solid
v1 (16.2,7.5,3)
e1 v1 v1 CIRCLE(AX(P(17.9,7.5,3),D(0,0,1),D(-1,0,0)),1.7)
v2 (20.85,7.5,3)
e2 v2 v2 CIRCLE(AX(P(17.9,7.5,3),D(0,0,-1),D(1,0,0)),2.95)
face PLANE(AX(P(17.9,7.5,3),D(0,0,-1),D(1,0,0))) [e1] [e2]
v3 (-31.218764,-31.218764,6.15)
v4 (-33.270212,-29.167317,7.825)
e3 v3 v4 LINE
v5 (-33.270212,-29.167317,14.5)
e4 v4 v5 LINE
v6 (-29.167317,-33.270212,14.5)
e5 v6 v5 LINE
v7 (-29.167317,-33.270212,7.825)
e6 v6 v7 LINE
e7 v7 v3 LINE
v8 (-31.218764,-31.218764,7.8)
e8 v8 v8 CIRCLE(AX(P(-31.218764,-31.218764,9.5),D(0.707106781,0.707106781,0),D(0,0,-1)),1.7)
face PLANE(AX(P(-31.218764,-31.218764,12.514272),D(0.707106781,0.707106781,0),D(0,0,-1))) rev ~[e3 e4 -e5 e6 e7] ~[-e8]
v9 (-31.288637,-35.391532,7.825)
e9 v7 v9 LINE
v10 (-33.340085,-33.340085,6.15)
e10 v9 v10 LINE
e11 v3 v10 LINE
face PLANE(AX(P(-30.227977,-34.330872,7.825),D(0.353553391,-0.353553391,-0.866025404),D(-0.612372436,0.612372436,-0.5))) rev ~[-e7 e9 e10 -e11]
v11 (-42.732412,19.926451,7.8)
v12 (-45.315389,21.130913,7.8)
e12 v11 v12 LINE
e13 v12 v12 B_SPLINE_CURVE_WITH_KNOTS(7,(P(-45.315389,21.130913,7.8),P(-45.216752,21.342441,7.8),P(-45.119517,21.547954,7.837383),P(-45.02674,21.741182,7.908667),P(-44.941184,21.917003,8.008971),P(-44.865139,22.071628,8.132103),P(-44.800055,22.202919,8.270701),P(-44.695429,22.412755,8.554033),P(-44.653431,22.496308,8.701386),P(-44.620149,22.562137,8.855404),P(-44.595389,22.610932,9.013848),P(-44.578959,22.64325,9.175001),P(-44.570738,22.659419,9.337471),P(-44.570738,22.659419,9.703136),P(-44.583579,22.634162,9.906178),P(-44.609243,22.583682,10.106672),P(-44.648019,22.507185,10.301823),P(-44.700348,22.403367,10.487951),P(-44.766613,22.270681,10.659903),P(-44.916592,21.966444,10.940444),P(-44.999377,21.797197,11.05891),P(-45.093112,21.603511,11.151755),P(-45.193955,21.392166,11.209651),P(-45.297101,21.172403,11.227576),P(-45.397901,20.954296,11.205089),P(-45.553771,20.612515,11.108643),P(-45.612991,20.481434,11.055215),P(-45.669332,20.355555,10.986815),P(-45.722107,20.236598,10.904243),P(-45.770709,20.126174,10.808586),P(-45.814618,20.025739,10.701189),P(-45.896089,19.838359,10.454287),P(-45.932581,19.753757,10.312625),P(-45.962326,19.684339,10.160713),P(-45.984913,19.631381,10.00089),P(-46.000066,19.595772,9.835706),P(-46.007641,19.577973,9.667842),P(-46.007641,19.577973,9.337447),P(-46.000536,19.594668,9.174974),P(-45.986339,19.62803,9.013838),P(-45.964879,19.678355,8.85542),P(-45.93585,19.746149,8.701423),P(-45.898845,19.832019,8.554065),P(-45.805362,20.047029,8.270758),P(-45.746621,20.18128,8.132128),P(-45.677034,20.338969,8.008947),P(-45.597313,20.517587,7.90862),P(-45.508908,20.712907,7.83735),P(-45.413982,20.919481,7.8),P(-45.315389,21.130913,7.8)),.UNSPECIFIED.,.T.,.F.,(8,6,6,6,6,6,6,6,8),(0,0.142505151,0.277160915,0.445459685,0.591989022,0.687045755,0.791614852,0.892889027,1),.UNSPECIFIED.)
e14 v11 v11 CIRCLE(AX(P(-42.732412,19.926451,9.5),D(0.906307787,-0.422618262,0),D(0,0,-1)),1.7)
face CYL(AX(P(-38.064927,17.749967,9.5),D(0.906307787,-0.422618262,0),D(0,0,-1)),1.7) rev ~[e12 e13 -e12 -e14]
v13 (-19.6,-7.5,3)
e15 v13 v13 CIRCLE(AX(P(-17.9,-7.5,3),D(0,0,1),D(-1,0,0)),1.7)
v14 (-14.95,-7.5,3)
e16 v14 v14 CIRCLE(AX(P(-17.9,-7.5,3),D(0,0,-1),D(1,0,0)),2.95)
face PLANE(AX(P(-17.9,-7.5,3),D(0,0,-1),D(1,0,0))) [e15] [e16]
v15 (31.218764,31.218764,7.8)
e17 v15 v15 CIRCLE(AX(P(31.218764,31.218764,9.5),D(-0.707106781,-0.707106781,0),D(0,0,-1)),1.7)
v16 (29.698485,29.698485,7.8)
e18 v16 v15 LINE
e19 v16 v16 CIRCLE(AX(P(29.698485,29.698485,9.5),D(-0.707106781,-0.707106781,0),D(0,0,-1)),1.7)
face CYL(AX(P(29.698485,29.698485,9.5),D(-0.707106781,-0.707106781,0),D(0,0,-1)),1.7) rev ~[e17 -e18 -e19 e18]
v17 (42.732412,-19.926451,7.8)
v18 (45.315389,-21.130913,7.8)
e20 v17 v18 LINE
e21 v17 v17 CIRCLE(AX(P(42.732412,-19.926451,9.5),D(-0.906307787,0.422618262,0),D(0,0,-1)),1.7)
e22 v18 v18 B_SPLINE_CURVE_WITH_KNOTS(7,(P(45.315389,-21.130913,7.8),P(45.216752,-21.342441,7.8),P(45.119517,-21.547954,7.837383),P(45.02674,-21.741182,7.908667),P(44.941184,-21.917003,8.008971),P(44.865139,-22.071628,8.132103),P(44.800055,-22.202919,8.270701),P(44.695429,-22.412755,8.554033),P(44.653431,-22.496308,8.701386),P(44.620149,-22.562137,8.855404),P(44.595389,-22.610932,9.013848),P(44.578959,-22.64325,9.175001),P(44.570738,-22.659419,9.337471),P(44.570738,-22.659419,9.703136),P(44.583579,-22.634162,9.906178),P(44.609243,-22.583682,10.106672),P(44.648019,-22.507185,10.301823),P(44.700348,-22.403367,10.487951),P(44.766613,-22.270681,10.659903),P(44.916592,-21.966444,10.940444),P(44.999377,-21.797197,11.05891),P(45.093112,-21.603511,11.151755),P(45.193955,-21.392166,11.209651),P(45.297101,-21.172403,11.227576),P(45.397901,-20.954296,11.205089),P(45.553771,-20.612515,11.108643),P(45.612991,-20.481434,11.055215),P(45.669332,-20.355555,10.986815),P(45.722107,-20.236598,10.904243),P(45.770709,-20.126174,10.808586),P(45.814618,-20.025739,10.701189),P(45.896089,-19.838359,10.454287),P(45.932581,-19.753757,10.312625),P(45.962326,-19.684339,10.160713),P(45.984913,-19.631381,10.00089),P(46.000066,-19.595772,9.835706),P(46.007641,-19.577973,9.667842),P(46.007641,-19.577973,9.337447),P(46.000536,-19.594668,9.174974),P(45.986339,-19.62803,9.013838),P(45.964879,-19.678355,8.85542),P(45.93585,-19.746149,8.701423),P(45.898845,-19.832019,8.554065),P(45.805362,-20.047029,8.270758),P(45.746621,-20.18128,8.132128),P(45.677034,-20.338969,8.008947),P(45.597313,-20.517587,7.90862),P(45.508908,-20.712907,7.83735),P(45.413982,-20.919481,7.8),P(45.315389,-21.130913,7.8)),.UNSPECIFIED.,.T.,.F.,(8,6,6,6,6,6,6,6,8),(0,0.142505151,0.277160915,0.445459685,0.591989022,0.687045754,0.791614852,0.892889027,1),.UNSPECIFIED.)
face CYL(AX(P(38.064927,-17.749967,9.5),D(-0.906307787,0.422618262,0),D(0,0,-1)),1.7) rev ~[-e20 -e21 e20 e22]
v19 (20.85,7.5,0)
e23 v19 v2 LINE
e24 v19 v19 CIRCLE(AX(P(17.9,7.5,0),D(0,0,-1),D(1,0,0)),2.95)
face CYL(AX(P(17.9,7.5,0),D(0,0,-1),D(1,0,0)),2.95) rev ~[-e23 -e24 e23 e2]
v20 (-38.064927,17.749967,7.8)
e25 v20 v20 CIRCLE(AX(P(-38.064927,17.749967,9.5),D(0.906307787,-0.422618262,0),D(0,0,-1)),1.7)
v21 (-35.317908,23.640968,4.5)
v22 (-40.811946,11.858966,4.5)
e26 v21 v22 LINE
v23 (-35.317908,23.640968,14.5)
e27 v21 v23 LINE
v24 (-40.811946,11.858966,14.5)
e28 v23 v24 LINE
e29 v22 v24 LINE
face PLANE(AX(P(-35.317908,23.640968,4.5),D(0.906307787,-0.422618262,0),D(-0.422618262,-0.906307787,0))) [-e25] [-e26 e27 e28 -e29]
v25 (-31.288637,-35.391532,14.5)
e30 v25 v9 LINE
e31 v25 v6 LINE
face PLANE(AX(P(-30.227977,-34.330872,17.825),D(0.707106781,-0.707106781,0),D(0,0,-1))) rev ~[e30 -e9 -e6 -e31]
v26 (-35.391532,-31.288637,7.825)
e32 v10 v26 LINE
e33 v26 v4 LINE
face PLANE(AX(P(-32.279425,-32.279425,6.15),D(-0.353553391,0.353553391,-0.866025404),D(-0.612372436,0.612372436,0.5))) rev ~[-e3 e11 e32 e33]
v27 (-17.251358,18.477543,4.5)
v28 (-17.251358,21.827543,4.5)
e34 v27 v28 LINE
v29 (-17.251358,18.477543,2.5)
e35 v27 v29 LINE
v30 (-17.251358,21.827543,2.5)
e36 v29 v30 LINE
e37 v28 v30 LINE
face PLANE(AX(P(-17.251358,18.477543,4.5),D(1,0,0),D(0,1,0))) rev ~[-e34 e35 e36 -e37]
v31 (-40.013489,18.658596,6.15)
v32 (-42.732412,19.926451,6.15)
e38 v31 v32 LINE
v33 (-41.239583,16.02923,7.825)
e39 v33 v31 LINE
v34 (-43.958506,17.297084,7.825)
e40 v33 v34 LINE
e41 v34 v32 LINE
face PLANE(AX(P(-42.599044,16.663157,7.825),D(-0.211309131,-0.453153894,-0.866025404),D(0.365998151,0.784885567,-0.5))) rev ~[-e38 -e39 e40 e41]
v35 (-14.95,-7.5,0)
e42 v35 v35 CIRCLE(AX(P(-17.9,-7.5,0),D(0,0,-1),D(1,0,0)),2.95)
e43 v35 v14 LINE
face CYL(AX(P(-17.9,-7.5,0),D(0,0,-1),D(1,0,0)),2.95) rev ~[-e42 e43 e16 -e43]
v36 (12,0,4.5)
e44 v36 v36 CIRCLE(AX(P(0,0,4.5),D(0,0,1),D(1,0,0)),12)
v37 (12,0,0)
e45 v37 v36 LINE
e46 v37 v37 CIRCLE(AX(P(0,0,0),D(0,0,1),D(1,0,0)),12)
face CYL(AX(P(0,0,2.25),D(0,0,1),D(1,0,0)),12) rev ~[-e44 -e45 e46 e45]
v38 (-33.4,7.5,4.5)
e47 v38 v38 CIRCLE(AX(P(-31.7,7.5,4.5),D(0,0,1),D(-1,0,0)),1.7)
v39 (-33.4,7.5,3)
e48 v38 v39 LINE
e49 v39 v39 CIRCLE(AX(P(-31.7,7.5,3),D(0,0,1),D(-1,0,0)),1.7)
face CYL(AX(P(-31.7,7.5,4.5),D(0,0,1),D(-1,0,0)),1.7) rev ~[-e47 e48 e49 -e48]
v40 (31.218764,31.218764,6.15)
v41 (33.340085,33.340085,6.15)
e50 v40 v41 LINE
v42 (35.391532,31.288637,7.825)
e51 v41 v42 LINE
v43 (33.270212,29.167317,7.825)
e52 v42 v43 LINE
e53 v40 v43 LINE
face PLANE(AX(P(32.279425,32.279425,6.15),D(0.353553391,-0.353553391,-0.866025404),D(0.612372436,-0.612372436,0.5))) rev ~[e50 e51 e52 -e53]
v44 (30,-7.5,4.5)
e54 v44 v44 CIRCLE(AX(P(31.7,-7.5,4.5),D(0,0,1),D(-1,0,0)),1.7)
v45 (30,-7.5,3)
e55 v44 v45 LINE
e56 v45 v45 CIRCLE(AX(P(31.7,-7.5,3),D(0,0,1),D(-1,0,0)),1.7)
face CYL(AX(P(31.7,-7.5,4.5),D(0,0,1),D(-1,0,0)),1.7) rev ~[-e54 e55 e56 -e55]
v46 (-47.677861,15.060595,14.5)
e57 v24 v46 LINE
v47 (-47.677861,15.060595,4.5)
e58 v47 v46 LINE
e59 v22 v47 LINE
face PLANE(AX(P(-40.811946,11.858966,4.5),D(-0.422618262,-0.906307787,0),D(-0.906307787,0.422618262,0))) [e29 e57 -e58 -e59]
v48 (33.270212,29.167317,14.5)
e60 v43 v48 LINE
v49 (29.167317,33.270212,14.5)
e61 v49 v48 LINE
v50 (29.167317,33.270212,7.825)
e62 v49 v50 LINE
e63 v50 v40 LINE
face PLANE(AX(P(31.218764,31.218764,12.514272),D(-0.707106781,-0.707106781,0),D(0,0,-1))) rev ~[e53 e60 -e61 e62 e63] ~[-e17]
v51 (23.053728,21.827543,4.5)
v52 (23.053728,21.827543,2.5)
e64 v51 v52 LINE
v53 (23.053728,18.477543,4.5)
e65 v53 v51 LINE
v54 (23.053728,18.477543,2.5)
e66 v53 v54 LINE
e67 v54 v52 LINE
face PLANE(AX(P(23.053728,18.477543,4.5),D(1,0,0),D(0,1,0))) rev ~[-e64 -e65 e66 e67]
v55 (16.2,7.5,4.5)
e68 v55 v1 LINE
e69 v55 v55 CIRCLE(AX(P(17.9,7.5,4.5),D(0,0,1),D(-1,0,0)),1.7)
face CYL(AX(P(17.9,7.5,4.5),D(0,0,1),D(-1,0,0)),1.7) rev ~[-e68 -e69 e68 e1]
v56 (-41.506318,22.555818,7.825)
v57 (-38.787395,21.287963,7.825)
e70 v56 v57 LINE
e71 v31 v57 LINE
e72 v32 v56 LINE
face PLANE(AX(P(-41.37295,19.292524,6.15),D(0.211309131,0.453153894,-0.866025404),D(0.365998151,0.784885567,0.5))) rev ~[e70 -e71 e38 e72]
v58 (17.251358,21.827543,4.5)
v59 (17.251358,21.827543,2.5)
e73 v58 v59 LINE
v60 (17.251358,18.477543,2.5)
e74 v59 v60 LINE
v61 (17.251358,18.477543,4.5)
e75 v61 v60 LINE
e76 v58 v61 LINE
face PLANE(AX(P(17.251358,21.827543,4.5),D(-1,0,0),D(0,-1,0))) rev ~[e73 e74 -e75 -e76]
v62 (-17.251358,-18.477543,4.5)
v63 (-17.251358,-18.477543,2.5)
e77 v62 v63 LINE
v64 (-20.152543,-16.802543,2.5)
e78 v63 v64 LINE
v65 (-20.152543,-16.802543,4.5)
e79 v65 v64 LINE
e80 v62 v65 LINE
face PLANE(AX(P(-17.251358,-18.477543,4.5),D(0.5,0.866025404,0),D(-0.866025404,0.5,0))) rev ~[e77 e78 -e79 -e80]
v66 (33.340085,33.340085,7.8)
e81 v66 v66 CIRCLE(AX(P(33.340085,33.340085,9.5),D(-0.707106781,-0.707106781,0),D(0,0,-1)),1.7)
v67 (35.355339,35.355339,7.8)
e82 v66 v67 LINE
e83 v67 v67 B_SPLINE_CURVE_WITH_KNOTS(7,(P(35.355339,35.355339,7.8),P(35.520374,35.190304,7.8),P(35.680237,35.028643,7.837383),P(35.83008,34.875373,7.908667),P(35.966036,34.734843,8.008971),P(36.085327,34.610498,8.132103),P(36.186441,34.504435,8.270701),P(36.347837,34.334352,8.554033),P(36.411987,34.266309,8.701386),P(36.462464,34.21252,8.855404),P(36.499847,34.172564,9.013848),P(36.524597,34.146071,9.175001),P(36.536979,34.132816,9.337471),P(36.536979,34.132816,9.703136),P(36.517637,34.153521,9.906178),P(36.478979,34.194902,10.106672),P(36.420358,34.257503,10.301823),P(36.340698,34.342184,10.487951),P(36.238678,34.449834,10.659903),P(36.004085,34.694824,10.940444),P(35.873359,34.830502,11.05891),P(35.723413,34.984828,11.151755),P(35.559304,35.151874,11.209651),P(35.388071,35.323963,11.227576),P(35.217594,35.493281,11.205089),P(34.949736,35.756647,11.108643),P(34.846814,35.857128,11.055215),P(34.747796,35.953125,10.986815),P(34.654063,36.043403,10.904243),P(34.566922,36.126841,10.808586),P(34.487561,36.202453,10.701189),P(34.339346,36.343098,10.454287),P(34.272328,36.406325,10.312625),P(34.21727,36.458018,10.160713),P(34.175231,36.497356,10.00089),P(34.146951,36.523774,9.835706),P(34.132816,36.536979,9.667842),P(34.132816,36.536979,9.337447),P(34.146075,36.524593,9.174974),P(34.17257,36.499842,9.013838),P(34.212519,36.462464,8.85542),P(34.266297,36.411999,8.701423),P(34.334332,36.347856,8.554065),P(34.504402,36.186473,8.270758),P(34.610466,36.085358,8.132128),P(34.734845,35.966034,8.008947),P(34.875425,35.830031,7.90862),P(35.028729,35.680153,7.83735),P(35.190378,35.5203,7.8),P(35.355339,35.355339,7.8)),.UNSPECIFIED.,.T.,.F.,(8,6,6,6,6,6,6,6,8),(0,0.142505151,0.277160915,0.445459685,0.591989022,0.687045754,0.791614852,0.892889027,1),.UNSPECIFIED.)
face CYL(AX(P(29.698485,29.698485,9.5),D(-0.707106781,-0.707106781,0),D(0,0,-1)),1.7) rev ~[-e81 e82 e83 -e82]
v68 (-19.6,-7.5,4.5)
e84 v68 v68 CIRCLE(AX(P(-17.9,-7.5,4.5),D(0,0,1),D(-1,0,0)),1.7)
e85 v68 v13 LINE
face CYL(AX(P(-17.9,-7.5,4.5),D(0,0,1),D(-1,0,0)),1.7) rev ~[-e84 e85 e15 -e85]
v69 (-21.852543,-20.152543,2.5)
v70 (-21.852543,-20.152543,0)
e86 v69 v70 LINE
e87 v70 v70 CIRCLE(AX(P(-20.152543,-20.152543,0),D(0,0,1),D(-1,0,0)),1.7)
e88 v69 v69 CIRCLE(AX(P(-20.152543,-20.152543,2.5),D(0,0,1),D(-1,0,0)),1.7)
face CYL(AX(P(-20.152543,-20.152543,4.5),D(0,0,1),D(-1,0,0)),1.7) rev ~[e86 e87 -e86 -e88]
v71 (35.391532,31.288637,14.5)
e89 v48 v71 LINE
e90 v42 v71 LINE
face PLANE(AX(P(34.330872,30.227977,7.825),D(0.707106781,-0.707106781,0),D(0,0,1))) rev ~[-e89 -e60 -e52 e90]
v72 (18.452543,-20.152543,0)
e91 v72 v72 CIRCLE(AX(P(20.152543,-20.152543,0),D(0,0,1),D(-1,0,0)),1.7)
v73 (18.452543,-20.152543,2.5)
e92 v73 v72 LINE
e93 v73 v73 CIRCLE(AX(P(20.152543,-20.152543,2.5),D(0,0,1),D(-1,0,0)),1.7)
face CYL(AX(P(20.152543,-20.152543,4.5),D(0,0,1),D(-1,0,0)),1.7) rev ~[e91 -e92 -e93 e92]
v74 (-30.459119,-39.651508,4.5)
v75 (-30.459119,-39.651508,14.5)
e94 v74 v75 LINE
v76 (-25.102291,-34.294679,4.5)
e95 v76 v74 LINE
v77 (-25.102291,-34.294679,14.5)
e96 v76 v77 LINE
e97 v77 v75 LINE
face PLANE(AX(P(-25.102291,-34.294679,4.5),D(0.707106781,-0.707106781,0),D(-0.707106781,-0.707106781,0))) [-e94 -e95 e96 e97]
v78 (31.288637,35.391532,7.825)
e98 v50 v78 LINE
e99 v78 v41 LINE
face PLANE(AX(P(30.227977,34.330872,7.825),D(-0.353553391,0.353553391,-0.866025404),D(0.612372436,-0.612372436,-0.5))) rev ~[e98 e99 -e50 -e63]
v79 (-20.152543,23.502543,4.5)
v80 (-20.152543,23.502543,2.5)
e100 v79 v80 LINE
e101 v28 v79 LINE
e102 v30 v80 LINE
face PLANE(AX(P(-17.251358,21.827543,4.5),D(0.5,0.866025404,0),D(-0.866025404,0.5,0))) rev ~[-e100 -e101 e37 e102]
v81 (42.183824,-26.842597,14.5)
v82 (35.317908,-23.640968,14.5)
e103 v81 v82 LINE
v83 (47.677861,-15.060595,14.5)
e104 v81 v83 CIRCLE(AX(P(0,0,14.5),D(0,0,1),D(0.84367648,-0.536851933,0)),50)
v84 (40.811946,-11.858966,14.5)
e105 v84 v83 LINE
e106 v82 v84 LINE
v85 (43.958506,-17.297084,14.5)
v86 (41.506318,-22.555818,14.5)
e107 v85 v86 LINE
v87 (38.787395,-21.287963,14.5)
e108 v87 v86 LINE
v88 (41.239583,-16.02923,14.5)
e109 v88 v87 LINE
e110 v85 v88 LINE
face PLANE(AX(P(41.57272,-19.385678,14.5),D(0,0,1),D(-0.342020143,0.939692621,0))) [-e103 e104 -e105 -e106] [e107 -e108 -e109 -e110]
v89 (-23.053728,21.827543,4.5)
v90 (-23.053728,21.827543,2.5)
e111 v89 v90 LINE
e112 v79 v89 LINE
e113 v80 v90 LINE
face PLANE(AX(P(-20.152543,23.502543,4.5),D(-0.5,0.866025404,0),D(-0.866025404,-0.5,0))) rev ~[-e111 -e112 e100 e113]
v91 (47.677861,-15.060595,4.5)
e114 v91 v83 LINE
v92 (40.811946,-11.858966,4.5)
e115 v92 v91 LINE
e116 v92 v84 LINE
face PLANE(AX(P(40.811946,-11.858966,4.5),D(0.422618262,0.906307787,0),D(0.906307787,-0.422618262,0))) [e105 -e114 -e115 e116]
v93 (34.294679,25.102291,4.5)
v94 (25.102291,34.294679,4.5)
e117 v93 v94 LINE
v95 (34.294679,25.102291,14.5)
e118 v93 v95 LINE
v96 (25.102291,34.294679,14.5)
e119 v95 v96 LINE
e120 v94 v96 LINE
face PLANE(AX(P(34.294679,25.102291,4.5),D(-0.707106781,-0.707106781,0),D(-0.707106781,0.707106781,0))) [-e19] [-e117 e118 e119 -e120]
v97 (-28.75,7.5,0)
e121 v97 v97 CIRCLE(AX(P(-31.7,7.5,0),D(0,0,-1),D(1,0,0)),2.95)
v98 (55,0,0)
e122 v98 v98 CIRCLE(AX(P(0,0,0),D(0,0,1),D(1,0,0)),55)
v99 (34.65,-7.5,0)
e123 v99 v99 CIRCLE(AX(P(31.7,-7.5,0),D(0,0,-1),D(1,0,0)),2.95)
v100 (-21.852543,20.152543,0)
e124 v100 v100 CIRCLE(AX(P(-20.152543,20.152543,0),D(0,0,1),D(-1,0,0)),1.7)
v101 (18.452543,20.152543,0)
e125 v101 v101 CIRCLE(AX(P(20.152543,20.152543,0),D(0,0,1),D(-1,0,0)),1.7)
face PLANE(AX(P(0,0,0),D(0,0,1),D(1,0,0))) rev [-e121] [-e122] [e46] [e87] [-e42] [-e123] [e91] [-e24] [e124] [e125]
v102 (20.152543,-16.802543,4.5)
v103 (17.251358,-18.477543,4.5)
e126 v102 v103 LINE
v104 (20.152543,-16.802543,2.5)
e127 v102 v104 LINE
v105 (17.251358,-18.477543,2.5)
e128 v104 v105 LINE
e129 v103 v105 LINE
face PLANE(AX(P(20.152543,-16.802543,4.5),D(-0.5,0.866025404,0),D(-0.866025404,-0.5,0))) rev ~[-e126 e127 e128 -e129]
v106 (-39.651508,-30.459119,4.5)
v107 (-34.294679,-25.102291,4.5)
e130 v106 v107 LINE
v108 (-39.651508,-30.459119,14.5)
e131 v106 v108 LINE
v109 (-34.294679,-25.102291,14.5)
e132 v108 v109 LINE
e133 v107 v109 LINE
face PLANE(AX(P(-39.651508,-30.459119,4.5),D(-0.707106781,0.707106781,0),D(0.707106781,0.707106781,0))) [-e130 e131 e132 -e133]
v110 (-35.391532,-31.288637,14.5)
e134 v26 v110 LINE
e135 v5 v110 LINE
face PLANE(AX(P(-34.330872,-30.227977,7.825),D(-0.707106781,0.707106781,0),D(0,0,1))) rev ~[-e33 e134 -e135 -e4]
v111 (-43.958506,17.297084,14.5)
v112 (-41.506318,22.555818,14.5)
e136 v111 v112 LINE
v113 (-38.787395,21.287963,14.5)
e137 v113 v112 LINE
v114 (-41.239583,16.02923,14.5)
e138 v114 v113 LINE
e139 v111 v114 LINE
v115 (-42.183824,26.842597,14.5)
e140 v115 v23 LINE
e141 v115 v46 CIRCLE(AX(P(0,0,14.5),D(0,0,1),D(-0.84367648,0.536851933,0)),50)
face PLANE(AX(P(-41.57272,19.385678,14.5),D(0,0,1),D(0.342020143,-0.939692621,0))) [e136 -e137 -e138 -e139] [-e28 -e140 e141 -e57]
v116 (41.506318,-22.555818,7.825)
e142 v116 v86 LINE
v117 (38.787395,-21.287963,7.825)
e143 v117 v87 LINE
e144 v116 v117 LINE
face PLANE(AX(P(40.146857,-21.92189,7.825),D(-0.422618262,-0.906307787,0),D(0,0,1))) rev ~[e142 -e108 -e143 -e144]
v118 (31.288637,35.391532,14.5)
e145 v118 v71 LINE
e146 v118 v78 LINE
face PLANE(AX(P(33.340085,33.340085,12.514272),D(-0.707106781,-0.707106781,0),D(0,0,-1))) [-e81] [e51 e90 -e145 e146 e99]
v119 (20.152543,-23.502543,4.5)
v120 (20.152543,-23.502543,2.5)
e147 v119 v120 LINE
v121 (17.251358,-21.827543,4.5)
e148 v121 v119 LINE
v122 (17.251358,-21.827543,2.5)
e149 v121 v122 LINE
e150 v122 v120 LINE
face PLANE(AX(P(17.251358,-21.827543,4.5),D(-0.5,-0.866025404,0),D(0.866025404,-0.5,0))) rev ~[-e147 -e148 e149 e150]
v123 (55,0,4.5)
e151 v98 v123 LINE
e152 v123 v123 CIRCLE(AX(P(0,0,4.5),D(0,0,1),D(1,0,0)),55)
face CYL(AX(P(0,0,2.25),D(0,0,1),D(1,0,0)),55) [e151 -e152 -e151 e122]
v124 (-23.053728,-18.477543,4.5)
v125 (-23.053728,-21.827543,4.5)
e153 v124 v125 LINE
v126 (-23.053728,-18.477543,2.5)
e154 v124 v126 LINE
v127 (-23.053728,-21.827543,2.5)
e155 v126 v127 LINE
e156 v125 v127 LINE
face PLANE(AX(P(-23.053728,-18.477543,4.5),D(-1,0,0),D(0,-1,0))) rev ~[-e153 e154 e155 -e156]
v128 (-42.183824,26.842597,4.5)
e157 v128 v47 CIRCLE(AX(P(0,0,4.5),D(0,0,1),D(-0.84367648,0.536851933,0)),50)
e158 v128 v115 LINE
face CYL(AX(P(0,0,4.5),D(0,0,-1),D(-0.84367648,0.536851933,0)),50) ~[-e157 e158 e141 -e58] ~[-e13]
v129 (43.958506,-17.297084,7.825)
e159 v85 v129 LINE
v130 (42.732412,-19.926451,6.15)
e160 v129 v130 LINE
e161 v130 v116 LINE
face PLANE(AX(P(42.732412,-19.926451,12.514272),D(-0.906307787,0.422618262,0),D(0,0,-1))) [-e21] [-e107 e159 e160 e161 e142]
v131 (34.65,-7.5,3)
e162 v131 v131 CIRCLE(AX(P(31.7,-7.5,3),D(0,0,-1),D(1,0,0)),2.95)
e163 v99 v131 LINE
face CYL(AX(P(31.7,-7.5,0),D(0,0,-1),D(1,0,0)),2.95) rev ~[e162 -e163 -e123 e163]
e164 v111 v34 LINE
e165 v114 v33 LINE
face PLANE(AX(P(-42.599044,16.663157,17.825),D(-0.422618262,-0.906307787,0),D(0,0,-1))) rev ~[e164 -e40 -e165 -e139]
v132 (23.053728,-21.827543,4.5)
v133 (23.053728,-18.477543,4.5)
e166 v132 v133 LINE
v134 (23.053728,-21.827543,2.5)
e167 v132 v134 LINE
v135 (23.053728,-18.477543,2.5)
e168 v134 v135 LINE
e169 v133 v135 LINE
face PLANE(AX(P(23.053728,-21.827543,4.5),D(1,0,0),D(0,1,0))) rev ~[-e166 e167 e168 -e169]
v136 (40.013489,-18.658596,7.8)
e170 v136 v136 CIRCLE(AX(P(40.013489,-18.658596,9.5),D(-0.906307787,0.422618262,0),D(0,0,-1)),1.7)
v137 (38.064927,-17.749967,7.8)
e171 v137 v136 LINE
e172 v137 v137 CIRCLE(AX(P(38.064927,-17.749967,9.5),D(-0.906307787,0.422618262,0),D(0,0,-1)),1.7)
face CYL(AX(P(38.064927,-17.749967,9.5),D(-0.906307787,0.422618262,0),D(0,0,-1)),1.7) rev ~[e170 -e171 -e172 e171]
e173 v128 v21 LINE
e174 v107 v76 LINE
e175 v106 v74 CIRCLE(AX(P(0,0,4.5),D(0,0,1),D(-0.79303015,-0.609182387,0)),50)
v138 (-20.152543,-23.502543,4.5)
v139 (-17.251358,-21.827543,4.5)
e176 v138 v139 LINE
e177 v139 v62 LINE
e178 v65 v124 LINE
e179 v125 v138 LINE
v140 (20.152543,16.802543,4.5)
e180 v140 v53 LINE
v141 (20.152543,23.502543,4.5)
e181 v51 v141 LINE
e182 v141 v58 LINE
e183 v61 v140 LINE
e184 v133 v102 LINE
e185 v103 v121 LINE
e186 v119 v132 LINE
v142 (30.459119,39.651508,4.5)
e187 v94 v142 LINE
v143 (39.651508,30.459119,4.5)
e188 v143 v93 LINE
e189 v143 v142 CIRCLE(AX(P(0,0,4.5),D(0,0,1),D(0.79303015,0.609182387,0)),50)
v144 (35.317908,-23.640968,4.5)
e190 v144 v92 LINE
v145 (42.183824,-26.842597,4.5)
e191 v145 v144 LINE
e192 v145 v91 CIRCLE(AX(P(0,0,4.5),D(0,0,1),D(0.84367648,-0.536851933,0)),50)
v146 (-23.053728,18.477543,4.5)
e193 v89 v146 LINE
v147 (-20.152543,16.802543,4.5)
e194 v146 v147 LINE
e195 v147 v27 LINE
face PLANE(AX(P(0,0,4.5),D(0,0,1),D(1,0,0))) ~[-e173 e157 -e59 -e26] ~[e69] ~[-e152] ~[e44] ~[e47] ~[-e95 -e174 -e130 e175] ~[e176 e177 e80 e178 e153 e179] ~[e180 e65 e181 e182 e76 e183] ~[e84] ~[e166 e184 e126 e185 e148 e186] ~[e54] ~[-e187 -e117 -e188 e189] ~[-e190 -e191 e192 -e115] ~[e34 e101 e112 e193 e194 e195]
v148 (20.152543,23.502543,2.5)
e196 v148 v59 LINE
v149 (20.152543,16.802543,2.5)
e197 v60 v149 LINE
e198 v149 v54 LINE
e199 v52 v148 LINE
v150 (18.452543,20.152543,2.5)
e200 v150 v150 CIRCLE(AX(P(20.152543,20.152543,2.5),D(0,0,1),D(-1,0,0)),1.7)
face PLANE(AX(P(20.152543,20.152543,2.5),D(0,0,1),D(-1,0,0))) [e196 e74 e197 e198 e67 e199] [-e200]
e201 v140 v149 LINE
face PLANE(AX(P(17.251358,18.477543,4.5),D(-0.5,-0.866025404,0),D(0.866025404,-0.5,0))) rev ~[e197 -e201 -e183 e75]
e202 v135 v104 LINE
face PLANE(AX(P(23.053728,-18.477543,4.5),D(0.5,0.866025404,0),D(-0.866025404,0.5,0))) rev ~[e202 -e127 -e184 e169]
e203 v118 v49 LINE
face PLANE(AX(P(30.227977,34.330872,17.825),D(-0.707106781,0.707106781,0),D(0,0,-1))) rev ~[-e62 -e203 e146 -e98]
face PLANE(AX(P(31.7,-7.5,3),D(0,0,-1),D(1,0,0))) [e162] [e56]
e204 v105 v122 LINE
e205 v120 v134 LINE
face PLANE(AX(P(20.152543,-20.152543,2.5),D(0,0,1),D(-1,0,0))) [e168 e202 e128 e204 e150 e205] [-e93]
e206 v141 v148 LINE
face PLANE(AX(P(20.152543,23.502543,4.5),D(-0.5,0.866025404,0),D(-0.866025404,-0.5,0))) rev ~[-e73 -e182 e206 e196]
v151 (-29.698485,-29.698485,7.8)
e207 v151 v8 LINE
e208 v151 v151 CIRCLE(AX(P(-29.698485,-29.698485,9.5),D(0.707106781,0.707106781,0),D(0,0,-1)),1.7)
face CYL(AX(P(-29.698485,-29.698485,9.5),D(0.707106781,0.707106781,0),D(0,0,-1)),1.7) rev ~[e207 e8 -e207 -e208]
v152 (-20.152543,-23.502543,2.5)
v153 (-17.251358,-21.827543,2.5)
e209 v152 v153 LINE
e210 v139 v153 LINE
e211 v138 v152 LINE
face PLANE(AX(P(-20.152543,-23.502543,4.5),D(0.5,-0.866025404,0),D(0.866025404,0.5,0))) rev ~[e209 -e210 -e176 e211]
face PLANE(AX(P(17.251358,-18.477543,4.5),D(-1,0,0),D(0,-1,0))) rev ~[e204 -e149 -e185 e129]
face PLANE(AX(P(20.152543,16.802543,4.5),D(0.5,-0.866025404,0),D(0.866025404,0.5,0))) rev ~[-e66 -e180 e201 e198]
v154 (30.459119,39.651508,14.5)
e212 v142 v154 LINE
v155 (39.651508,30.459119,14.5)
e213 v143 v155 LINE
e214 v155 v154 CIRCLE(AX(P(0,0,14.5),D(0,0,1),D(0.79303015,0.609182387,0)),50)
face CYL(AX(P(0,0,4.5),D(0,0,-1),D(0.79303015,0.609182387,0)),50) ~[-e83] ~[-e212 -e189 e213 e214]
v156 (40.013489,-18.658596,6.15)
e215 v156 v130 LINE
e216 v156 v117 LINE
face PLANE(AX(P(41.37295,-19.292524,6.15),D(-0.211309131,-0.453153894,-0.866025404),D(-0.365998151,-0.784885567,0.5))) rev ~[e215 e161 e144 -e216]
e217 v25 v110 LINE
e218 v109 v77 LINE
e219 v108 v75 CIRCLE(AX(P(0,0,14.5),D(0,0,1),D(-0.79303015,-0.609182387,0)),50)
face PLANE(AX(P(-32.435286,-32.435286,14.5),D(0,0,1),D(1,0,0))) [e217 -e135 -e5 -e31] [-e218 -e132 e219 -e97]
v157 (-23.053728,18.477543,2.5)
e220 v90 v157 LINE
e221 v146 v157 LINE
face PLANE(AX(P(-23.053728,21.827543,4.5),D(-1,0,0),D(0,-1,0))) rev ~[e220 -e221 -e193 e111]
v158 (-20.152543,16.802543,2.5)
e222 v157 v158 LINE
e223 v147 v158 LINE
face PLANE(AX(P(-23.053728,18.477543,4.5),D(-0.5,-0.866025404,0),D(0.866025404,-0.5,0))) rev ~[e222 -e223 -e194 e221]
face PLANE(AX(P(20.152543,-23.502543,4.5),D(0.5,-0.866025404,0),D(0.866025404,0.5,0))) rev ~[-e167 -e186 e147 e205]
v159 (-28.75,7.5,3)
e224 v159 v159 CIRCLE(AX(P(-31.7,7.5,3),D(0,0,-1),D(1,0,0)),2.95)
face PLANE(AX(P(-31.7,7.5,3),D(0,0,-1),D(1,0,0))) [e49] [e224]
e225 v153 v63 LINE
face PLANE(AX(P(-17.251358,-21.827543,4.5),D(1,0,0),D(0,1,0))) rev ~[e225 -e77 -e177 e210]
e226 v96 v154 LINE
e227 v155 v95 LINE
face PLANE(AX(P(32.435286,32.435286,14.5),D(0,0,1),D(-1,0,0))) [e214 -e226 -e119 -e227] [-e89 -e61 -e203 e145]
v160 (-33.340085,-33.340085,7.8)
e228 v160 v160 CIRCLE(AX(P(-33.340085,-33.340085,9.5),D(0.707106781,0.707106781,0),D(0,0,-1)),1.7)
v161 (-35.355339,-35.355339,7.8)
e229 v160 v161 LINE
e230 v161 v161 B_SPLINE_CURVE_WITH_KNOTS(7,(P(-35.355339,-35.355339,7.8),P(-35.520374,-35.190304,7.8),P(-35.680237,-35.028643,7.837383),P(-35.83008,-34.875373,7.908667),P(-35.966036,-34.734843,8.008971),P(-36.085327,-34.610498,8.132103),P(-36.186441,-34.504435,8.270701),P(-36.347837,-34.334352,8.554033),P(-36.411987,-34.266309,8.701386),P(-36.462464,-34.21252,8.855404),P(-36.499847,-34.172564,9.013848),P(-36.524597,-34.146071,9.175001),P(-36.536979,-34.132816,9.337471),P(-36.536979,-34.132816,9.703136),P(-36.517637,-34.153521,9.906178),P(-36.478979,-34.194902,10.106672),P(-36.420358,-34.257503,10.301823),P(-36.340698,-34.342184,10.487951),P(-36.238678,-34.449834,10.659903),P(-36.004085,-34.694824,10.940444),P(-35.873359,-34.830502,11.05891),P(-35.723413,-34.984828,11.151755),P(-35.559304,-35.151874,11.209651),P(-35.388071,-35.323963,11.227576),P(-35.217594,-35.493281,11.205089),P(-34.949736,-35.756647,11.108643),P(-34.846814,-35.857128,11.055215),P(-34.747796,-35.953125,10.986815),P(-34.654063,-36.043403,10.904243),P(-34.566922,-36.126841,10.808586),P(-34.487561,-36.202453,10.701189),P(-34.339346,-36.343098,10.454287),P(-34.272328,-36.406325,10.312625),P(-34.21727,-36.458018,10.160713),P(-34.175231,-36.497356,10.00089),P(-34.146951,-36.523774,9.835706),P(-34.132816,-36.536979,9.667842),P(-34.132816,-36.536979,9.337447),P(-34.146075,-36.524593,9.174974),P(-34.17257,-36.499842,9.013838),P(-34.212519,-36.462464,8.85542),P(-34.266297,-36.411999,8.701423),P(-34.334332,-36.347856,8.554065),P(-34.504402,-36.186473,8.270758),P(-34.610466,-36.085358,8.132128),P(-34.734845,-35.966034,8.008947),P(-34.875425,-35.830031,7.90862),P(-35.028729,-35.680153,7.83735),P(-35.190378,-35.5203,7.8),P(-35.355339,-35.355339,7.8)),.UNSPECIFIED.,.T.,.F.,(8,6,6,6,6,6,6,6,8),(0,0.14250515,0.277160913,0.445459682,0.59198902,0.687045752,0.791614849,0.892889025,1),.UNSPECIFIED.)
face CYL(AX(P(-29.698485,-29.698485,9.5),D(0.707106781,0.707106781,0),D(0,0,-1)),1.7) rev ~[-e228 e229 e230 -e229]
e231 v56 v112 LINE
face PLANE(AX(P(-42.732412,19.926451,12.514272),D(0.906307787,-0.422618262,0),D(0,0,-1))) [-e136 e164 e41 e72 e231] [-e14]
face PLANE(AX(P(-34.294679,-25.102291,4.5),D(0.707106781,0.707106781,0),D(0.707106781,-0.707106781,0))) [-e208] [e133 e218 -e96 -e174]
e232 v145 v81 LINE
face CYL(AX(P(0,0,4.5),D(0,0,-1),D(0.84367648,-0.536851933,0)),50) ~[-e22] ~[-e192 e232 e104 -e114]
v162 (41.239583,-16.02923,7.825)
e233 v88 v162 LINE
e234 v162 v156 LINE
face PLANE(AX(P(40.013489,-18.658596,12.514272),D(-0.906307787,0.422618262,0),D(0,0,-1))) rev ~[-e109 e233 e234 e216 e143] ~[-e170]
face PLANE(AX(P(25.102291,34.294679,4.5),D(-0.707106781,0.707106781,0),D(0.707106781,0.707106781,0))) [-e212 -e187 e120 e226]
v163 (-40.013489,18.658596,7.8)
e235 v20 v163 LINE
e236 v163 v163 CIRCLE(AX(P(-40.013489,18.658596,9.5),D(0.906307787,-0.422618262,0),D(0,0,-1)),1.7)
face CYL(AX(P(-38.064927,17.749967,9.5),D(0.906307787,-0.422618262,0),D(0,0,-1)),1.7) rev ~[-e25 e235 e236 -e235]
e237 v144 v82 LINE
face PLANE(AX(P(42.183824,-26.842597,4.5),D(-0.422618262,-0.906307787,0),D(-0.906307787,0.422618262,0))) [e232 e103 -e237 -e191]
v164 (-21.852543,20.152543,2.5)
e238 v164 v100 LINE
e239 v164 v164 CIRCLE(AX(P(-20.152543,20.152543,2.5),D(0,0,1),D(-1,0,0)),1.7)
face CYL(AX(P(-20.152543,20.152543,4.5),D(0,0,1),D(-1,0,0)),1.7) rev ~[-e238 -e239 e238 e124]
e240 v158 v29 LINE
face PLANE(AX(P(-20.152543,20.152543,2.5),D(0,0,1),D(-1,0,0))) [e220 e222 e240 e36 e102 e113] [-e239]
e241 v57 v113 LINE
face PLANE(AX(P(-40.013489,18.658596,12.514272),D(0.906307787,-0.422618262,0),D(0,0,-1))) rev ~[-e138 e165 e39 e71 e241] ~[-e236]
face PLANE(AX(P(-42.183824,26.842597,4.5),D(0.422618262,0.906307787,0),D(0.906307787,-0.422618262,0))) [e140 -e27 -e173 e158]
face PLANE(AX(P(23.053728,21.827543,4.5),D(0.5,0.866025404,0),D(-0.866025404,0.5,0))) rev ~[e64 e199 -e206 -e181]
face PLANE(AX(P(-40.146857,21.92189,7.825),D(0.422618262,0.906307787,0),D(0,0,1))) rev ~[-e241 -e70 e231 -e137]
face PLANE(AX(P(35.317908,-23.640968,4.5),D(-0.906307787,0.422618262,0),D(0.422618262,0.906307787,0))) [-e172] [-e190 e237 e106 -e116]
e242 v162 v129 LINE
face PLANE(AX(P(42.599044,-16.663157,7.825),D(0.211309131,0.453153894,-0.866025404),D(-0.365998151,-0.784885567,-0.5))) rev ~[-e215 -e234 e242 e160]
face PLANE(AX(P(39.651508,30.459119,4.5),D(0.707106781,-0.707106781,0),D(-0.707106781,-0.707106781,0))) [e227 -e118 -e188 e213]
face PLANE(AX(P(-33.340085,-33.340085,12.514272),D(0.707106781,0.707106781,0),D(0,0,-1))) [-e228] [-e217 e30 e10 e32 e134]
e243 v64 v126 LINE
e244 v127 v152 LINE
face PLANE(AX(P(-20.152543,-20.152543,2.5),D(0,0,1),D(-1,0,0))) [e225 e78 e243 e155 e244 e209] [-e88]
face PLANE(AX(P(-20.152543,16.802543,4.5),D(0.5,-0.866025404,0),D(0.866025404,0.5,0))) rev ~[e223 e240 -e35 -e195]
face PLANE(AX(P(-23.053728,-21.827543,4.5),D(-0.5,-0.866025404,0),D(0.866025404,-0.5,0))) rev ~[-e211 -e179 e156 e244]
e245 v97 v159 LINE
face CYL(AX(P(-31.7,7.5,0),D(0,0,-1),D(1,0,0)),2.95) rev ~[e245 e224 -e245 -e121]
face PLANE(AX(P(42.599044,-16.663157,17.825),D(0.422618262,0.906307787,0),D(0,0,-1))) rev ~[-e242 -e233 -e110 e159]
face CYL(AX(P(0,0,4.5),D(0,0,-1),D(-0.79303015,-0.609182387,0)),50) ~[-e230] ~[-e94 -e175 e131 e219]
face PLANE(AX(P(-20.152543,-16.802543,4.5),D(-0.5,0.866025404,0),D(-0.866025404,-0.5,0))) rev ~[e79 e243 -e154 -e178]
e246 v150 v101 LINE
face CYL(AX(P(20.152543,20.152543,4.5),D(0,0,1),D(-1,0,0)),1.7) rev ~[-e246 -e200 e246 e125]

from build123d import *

# Parameters (mm, degrees)
SKETCH_W                       = 43
SKETCH_H                       = 4.5
SKETCH001_R                    = 1.7
POCKET_DEPTH                   = 4.501
POCKET001_DEPTH                = 2
SKETCH003_R                    = 2.95
POCKET002_DEPTH                = 3
PAD_DEPTH                      = 10
SKETCH005_R                    = 1.7
POCKET003_DEPTH                = 348.2583449779
POCKET004_DEPTH                = 1.5
PAD_POLARPATTERN_2_DEPTH       = 10
SKETCH005_POLARPATTERN_2_R     = 1.7
POCKET003_POLARPATTERN_2_DEPTH = 348.2583449779
POCKET004_POLARPATTERN_2_DEPTH = 1.5
POLARPATTERN001_COUNT          = 2


with BuildPart() as part:
    # Sketch → Revolution (revolve)
    with BuildSketch(Plane.XZ):
        with Locations((33.5, 2.25)):
            Rectangle(SKETCH_W, SKETCH_H)
    revolve(axis=Axis((0, 0, 0), (0, 0, 1)))

    # Sketch001 (on Face3 of Revolution) → Pocket (cut, through all)
    with BuildSketch(Plane(origin=(0, 0, 4.5), x_dir=(-1, 0, 0), z_dir=(0, 0, 1))):
        with Locations((-20.1525432638, 20.1525432638)):
            Circle(SKETCH001_R)
        with Locations((20.1525432638, 20.1525432638)):
            Circle(SKETCH001_R)
        with Locations((20.1525432638, -20.1525432638)):
            Circle(SKETCH001_R)
        with Locations((-20.1525432638, -20.1525432638)):
            Circle(SKETCH001_R)
        with Locations((-31.7, 7.5)):
            Circle(SKETCH001_R)
        with Locations((17.9, 7.5)):
            Circle(SKETCH001_R)
        with Locations((-17.9, -7.5)):
            Circle(SKETCH001_R)
        with Locations((31.7, -7.5)):
            Circle(SKETCH001_R)
    extrude(amount=-POCKET_DEPTH, mode=Mode.SUBTRACT)

    # Sketch002 (on Face12 of Pocket) → Pocket001 (cut)
    with BuildSketch(Plane(origin=(0, 0, 4.5), x_dir=(-1, 0, 0), z_dir=(0, 0, 1))):
        Polygon((-17.2513581611, 21.8275432638), (-20.1525432638, 23.5025432638), (-23.0537283665, 21.8275432638), (-23.0537283665, 18.4775432638), (-20.1525432638, 16.8025432638), (-17.2513581611, 18.4775432638), align=None)
        Polygon((20.1525432638, 23.5025432638), (17.2513581611, 21.8275432638), (17.2513581611, 18.4775432638), (20.1525432638, 16.8025432638), (23.0537283665, 18.4775432638), (23.0537283665, 21.8275432638), align=None)
        Polygon((20.1525432638, -16.8025432638), (17.2513581611, -18.4775432638), (17.2513581611, -21.8275432638), (20.1525432638, -23.5025432638), (23.0537283665, -21.8275432638), (23.0537283665, -18.4775432638), align=None)
        Polygon((-20.1525432638, -16.8025432638), (-23.0537283665, -18.4775432638), (-23.0537283665, -21.8275432638), (-20.1525432638, -23.5025432638), (-17.2513581611, -21.8275432638), (-17.2513581611, -18.4775432638), align=None)
    extrude(amount=-POCKET001_DEPTH, mode=Mode.SUBTRACT)

    # Sketch003 (on Face1 of Pocket001) → Pocket002 (cut)
    with BuildSketch(Plane(origin=(0, 0, 0), x_dir=(1, 0, 0), z_dir=(0, 0, -1))):
        with Locations((-17.9, 7.5)):
            Circle(SKETCH003_R)
        with Locations((-31.7, -7.5)):
            Circle(SKETCH003_R)
        with Locations((17.9, -7.5)):
            Circle(SKETCH003_R)
        with Locations((31.7, 7.5)):
            Circle(SKETCH003_R)
    extrude(amount=-POCKET002_DEPTH, mode=Mode.SUBTRACT)

    # Sketch004 (on Face12 of Pocket002) → Pad (join)
    with BuildSketch(Plane(origin=(0, 0, 4.5), x_dir=(-1, 0, 0), z_dir=(0, 0, 1))):
        with BuildLine():
            ThreePointArc((-39.6515075123, -30.4591193569), (-35.3553390593, -35.3553390593), (-30.4591193569, -39.6515075123))
            Line((-25.1022907321, -34.2946788875), (-30.4591193569, -39.6515075123))
            Line((-34.2946788875, -25.1022907321), (-25.1022907321, -34.2946788875))
            Line((-39.6515075123, -30.4591193569), (-34.2946788875, -25.1022907321))
        make_face()
    pad = extrude(amount=PAD_DEPTH)

    # Sketch005 (on Face28 of Pad) → Pocket003 (cut, through all)
    with BuildSketch(Plane(origin=(29.6984848098, 29.6984848098, 0), x_dir=(0, 0, -1), z_dir=(-0.7071067812, -0.7071067812, 0))):
        with Locations((-9.5, 0)):
            Circle(SKETCH005_R)
    pocket003 = extrude(amount=-POCKET003_DEPTH, mode=Mode.SUBTRACT)

    # Sketch006 (on DatumPlane) → Pocket004 (cut, symmetric)
    with BuildSketch(Plane(origin=(32.2794245612, 32.2794245612, 0), x_dir=(0, 0, -1), z_dir=(-0.7071067812, -0.7071067812, 0))):
        Polygon((-6.15, 0), (-7.825, 2.9011851027), (-17.825, 2.9011851027), (-17.825, -2.9011851027), (-7.825, -2.9011851027), align=None)
    pocket004 = extrude(amount=POCKET004_DEPTH, both=True, mode=Mode.SUBTRACT)

    # Sketch004 PolarPattern 2 → Pad PolarPattern 2 (add)
    with BuildSketch(Plane(origin=(0, 0, 4.5), x_dir=(-0.3420201433, 0.9396926208, 0), z_dir=(0, 0, 1))):
        with BuildLine():
            ThreePointArc((-39.6515075123, -30.4591193569), (-35.3553390593, -35.3553390593), (-30.4591193569, -39.6515075123))
            Line((-25.1022907321, -34.2946788875), (-30.4591193569, -39.6515075123))
            Line((-34.2946788875, -25.1022907321), (-25.1022907321, -34.2946788875))
            Line((-39.6515075123, -30.4591193569), (-34.2946788875, -25.1022907321))
        make_face()
    pad_polarpattern_2 = extrude(amount=PAD_POLARPATTERN_2_DEPTH)

    # Sketch005 PolarPattern 2 → Pocket003 PolarPattern 2 (cut, through all)
    with BuildSketch(Plane(origin=(38.0649270555, -17.7499669931, 0), x_dir=(0, 0, -1), z_dir=(-0.906307787, 0.4226182617, 0))):
        with Locations((-9.5, 0)):
            Circle(SKETCH005_POLARPATTERN_2_R)
    pocket003_polarpattern_2 = extrude(amount=-POCKET003_POLARPATTERN_2_DEPTH, mode=Mode.SUBTRACT)

    # Sketch006 PolarPattern 2 → Pocket004 PolarPattern 2 (cut, symmetric)
    with BuildSketch(Plane(origin=(41.3729504782, -19.2925236485, 0), x_dir=(0, 0, -1), z_dir=(-0.906307787, 0.4226182617, 0))):
        Polygon((-6.15, 0), (-7.825, 2.9011851027), (-17.825, 2.9011851027), (-17.825, -2.9011851027), (-7.825, -2.9011851027), align=None)
    pocket004_polarpattern_2 = extrude(amount=POCKET004_POLARPATTERN_2_DEPTH, both=True, mode=Mode.SUBTRACT)

    # PolarPattern001: Pad, Pocket003, Pocket004, Pad PolarPattern 2, Pocket003 PolarPattern 2, Pocket004 PolarPattern 2 ×2 about axis
    polarpattern001_axis = Axis((0, 0, 4.5), (0, 0, 1))
    for i in range(1, POLARPATTERN001_COUNT):
        add(pad.rotate(polarpattern001_axis, i * 360 / POLARPATTERN001_COUNT))
        add(pocket003.rotate(polarpattern001_axis, i * 360 / POLARPATTERN001_COUNT), mode=Mode.SUBTRACT)
        add(pocket004.rotate(polarpattern001_axis, i * 360 / POLARPATTERN001_COUNT), mode=Mode.SUBTRACT)
        add(pad_polarpattern_2.rotate(polarpattern001_axis, i * 360 / POLARPATTERN001_COUNT))
        add(pocket003_polarpattern_2.rotate(polarpattern001_axis, i * 360 / POLARPATTERN001_COUNT), mode=Mode.SUBTRACT)
        add(pocket004_polarpattern_2.rotate(polarpattern001_axis, i * 360 / POLARPATTERN001_COUNT), mode=Mode.SUBTRACT)


solid = part.part
